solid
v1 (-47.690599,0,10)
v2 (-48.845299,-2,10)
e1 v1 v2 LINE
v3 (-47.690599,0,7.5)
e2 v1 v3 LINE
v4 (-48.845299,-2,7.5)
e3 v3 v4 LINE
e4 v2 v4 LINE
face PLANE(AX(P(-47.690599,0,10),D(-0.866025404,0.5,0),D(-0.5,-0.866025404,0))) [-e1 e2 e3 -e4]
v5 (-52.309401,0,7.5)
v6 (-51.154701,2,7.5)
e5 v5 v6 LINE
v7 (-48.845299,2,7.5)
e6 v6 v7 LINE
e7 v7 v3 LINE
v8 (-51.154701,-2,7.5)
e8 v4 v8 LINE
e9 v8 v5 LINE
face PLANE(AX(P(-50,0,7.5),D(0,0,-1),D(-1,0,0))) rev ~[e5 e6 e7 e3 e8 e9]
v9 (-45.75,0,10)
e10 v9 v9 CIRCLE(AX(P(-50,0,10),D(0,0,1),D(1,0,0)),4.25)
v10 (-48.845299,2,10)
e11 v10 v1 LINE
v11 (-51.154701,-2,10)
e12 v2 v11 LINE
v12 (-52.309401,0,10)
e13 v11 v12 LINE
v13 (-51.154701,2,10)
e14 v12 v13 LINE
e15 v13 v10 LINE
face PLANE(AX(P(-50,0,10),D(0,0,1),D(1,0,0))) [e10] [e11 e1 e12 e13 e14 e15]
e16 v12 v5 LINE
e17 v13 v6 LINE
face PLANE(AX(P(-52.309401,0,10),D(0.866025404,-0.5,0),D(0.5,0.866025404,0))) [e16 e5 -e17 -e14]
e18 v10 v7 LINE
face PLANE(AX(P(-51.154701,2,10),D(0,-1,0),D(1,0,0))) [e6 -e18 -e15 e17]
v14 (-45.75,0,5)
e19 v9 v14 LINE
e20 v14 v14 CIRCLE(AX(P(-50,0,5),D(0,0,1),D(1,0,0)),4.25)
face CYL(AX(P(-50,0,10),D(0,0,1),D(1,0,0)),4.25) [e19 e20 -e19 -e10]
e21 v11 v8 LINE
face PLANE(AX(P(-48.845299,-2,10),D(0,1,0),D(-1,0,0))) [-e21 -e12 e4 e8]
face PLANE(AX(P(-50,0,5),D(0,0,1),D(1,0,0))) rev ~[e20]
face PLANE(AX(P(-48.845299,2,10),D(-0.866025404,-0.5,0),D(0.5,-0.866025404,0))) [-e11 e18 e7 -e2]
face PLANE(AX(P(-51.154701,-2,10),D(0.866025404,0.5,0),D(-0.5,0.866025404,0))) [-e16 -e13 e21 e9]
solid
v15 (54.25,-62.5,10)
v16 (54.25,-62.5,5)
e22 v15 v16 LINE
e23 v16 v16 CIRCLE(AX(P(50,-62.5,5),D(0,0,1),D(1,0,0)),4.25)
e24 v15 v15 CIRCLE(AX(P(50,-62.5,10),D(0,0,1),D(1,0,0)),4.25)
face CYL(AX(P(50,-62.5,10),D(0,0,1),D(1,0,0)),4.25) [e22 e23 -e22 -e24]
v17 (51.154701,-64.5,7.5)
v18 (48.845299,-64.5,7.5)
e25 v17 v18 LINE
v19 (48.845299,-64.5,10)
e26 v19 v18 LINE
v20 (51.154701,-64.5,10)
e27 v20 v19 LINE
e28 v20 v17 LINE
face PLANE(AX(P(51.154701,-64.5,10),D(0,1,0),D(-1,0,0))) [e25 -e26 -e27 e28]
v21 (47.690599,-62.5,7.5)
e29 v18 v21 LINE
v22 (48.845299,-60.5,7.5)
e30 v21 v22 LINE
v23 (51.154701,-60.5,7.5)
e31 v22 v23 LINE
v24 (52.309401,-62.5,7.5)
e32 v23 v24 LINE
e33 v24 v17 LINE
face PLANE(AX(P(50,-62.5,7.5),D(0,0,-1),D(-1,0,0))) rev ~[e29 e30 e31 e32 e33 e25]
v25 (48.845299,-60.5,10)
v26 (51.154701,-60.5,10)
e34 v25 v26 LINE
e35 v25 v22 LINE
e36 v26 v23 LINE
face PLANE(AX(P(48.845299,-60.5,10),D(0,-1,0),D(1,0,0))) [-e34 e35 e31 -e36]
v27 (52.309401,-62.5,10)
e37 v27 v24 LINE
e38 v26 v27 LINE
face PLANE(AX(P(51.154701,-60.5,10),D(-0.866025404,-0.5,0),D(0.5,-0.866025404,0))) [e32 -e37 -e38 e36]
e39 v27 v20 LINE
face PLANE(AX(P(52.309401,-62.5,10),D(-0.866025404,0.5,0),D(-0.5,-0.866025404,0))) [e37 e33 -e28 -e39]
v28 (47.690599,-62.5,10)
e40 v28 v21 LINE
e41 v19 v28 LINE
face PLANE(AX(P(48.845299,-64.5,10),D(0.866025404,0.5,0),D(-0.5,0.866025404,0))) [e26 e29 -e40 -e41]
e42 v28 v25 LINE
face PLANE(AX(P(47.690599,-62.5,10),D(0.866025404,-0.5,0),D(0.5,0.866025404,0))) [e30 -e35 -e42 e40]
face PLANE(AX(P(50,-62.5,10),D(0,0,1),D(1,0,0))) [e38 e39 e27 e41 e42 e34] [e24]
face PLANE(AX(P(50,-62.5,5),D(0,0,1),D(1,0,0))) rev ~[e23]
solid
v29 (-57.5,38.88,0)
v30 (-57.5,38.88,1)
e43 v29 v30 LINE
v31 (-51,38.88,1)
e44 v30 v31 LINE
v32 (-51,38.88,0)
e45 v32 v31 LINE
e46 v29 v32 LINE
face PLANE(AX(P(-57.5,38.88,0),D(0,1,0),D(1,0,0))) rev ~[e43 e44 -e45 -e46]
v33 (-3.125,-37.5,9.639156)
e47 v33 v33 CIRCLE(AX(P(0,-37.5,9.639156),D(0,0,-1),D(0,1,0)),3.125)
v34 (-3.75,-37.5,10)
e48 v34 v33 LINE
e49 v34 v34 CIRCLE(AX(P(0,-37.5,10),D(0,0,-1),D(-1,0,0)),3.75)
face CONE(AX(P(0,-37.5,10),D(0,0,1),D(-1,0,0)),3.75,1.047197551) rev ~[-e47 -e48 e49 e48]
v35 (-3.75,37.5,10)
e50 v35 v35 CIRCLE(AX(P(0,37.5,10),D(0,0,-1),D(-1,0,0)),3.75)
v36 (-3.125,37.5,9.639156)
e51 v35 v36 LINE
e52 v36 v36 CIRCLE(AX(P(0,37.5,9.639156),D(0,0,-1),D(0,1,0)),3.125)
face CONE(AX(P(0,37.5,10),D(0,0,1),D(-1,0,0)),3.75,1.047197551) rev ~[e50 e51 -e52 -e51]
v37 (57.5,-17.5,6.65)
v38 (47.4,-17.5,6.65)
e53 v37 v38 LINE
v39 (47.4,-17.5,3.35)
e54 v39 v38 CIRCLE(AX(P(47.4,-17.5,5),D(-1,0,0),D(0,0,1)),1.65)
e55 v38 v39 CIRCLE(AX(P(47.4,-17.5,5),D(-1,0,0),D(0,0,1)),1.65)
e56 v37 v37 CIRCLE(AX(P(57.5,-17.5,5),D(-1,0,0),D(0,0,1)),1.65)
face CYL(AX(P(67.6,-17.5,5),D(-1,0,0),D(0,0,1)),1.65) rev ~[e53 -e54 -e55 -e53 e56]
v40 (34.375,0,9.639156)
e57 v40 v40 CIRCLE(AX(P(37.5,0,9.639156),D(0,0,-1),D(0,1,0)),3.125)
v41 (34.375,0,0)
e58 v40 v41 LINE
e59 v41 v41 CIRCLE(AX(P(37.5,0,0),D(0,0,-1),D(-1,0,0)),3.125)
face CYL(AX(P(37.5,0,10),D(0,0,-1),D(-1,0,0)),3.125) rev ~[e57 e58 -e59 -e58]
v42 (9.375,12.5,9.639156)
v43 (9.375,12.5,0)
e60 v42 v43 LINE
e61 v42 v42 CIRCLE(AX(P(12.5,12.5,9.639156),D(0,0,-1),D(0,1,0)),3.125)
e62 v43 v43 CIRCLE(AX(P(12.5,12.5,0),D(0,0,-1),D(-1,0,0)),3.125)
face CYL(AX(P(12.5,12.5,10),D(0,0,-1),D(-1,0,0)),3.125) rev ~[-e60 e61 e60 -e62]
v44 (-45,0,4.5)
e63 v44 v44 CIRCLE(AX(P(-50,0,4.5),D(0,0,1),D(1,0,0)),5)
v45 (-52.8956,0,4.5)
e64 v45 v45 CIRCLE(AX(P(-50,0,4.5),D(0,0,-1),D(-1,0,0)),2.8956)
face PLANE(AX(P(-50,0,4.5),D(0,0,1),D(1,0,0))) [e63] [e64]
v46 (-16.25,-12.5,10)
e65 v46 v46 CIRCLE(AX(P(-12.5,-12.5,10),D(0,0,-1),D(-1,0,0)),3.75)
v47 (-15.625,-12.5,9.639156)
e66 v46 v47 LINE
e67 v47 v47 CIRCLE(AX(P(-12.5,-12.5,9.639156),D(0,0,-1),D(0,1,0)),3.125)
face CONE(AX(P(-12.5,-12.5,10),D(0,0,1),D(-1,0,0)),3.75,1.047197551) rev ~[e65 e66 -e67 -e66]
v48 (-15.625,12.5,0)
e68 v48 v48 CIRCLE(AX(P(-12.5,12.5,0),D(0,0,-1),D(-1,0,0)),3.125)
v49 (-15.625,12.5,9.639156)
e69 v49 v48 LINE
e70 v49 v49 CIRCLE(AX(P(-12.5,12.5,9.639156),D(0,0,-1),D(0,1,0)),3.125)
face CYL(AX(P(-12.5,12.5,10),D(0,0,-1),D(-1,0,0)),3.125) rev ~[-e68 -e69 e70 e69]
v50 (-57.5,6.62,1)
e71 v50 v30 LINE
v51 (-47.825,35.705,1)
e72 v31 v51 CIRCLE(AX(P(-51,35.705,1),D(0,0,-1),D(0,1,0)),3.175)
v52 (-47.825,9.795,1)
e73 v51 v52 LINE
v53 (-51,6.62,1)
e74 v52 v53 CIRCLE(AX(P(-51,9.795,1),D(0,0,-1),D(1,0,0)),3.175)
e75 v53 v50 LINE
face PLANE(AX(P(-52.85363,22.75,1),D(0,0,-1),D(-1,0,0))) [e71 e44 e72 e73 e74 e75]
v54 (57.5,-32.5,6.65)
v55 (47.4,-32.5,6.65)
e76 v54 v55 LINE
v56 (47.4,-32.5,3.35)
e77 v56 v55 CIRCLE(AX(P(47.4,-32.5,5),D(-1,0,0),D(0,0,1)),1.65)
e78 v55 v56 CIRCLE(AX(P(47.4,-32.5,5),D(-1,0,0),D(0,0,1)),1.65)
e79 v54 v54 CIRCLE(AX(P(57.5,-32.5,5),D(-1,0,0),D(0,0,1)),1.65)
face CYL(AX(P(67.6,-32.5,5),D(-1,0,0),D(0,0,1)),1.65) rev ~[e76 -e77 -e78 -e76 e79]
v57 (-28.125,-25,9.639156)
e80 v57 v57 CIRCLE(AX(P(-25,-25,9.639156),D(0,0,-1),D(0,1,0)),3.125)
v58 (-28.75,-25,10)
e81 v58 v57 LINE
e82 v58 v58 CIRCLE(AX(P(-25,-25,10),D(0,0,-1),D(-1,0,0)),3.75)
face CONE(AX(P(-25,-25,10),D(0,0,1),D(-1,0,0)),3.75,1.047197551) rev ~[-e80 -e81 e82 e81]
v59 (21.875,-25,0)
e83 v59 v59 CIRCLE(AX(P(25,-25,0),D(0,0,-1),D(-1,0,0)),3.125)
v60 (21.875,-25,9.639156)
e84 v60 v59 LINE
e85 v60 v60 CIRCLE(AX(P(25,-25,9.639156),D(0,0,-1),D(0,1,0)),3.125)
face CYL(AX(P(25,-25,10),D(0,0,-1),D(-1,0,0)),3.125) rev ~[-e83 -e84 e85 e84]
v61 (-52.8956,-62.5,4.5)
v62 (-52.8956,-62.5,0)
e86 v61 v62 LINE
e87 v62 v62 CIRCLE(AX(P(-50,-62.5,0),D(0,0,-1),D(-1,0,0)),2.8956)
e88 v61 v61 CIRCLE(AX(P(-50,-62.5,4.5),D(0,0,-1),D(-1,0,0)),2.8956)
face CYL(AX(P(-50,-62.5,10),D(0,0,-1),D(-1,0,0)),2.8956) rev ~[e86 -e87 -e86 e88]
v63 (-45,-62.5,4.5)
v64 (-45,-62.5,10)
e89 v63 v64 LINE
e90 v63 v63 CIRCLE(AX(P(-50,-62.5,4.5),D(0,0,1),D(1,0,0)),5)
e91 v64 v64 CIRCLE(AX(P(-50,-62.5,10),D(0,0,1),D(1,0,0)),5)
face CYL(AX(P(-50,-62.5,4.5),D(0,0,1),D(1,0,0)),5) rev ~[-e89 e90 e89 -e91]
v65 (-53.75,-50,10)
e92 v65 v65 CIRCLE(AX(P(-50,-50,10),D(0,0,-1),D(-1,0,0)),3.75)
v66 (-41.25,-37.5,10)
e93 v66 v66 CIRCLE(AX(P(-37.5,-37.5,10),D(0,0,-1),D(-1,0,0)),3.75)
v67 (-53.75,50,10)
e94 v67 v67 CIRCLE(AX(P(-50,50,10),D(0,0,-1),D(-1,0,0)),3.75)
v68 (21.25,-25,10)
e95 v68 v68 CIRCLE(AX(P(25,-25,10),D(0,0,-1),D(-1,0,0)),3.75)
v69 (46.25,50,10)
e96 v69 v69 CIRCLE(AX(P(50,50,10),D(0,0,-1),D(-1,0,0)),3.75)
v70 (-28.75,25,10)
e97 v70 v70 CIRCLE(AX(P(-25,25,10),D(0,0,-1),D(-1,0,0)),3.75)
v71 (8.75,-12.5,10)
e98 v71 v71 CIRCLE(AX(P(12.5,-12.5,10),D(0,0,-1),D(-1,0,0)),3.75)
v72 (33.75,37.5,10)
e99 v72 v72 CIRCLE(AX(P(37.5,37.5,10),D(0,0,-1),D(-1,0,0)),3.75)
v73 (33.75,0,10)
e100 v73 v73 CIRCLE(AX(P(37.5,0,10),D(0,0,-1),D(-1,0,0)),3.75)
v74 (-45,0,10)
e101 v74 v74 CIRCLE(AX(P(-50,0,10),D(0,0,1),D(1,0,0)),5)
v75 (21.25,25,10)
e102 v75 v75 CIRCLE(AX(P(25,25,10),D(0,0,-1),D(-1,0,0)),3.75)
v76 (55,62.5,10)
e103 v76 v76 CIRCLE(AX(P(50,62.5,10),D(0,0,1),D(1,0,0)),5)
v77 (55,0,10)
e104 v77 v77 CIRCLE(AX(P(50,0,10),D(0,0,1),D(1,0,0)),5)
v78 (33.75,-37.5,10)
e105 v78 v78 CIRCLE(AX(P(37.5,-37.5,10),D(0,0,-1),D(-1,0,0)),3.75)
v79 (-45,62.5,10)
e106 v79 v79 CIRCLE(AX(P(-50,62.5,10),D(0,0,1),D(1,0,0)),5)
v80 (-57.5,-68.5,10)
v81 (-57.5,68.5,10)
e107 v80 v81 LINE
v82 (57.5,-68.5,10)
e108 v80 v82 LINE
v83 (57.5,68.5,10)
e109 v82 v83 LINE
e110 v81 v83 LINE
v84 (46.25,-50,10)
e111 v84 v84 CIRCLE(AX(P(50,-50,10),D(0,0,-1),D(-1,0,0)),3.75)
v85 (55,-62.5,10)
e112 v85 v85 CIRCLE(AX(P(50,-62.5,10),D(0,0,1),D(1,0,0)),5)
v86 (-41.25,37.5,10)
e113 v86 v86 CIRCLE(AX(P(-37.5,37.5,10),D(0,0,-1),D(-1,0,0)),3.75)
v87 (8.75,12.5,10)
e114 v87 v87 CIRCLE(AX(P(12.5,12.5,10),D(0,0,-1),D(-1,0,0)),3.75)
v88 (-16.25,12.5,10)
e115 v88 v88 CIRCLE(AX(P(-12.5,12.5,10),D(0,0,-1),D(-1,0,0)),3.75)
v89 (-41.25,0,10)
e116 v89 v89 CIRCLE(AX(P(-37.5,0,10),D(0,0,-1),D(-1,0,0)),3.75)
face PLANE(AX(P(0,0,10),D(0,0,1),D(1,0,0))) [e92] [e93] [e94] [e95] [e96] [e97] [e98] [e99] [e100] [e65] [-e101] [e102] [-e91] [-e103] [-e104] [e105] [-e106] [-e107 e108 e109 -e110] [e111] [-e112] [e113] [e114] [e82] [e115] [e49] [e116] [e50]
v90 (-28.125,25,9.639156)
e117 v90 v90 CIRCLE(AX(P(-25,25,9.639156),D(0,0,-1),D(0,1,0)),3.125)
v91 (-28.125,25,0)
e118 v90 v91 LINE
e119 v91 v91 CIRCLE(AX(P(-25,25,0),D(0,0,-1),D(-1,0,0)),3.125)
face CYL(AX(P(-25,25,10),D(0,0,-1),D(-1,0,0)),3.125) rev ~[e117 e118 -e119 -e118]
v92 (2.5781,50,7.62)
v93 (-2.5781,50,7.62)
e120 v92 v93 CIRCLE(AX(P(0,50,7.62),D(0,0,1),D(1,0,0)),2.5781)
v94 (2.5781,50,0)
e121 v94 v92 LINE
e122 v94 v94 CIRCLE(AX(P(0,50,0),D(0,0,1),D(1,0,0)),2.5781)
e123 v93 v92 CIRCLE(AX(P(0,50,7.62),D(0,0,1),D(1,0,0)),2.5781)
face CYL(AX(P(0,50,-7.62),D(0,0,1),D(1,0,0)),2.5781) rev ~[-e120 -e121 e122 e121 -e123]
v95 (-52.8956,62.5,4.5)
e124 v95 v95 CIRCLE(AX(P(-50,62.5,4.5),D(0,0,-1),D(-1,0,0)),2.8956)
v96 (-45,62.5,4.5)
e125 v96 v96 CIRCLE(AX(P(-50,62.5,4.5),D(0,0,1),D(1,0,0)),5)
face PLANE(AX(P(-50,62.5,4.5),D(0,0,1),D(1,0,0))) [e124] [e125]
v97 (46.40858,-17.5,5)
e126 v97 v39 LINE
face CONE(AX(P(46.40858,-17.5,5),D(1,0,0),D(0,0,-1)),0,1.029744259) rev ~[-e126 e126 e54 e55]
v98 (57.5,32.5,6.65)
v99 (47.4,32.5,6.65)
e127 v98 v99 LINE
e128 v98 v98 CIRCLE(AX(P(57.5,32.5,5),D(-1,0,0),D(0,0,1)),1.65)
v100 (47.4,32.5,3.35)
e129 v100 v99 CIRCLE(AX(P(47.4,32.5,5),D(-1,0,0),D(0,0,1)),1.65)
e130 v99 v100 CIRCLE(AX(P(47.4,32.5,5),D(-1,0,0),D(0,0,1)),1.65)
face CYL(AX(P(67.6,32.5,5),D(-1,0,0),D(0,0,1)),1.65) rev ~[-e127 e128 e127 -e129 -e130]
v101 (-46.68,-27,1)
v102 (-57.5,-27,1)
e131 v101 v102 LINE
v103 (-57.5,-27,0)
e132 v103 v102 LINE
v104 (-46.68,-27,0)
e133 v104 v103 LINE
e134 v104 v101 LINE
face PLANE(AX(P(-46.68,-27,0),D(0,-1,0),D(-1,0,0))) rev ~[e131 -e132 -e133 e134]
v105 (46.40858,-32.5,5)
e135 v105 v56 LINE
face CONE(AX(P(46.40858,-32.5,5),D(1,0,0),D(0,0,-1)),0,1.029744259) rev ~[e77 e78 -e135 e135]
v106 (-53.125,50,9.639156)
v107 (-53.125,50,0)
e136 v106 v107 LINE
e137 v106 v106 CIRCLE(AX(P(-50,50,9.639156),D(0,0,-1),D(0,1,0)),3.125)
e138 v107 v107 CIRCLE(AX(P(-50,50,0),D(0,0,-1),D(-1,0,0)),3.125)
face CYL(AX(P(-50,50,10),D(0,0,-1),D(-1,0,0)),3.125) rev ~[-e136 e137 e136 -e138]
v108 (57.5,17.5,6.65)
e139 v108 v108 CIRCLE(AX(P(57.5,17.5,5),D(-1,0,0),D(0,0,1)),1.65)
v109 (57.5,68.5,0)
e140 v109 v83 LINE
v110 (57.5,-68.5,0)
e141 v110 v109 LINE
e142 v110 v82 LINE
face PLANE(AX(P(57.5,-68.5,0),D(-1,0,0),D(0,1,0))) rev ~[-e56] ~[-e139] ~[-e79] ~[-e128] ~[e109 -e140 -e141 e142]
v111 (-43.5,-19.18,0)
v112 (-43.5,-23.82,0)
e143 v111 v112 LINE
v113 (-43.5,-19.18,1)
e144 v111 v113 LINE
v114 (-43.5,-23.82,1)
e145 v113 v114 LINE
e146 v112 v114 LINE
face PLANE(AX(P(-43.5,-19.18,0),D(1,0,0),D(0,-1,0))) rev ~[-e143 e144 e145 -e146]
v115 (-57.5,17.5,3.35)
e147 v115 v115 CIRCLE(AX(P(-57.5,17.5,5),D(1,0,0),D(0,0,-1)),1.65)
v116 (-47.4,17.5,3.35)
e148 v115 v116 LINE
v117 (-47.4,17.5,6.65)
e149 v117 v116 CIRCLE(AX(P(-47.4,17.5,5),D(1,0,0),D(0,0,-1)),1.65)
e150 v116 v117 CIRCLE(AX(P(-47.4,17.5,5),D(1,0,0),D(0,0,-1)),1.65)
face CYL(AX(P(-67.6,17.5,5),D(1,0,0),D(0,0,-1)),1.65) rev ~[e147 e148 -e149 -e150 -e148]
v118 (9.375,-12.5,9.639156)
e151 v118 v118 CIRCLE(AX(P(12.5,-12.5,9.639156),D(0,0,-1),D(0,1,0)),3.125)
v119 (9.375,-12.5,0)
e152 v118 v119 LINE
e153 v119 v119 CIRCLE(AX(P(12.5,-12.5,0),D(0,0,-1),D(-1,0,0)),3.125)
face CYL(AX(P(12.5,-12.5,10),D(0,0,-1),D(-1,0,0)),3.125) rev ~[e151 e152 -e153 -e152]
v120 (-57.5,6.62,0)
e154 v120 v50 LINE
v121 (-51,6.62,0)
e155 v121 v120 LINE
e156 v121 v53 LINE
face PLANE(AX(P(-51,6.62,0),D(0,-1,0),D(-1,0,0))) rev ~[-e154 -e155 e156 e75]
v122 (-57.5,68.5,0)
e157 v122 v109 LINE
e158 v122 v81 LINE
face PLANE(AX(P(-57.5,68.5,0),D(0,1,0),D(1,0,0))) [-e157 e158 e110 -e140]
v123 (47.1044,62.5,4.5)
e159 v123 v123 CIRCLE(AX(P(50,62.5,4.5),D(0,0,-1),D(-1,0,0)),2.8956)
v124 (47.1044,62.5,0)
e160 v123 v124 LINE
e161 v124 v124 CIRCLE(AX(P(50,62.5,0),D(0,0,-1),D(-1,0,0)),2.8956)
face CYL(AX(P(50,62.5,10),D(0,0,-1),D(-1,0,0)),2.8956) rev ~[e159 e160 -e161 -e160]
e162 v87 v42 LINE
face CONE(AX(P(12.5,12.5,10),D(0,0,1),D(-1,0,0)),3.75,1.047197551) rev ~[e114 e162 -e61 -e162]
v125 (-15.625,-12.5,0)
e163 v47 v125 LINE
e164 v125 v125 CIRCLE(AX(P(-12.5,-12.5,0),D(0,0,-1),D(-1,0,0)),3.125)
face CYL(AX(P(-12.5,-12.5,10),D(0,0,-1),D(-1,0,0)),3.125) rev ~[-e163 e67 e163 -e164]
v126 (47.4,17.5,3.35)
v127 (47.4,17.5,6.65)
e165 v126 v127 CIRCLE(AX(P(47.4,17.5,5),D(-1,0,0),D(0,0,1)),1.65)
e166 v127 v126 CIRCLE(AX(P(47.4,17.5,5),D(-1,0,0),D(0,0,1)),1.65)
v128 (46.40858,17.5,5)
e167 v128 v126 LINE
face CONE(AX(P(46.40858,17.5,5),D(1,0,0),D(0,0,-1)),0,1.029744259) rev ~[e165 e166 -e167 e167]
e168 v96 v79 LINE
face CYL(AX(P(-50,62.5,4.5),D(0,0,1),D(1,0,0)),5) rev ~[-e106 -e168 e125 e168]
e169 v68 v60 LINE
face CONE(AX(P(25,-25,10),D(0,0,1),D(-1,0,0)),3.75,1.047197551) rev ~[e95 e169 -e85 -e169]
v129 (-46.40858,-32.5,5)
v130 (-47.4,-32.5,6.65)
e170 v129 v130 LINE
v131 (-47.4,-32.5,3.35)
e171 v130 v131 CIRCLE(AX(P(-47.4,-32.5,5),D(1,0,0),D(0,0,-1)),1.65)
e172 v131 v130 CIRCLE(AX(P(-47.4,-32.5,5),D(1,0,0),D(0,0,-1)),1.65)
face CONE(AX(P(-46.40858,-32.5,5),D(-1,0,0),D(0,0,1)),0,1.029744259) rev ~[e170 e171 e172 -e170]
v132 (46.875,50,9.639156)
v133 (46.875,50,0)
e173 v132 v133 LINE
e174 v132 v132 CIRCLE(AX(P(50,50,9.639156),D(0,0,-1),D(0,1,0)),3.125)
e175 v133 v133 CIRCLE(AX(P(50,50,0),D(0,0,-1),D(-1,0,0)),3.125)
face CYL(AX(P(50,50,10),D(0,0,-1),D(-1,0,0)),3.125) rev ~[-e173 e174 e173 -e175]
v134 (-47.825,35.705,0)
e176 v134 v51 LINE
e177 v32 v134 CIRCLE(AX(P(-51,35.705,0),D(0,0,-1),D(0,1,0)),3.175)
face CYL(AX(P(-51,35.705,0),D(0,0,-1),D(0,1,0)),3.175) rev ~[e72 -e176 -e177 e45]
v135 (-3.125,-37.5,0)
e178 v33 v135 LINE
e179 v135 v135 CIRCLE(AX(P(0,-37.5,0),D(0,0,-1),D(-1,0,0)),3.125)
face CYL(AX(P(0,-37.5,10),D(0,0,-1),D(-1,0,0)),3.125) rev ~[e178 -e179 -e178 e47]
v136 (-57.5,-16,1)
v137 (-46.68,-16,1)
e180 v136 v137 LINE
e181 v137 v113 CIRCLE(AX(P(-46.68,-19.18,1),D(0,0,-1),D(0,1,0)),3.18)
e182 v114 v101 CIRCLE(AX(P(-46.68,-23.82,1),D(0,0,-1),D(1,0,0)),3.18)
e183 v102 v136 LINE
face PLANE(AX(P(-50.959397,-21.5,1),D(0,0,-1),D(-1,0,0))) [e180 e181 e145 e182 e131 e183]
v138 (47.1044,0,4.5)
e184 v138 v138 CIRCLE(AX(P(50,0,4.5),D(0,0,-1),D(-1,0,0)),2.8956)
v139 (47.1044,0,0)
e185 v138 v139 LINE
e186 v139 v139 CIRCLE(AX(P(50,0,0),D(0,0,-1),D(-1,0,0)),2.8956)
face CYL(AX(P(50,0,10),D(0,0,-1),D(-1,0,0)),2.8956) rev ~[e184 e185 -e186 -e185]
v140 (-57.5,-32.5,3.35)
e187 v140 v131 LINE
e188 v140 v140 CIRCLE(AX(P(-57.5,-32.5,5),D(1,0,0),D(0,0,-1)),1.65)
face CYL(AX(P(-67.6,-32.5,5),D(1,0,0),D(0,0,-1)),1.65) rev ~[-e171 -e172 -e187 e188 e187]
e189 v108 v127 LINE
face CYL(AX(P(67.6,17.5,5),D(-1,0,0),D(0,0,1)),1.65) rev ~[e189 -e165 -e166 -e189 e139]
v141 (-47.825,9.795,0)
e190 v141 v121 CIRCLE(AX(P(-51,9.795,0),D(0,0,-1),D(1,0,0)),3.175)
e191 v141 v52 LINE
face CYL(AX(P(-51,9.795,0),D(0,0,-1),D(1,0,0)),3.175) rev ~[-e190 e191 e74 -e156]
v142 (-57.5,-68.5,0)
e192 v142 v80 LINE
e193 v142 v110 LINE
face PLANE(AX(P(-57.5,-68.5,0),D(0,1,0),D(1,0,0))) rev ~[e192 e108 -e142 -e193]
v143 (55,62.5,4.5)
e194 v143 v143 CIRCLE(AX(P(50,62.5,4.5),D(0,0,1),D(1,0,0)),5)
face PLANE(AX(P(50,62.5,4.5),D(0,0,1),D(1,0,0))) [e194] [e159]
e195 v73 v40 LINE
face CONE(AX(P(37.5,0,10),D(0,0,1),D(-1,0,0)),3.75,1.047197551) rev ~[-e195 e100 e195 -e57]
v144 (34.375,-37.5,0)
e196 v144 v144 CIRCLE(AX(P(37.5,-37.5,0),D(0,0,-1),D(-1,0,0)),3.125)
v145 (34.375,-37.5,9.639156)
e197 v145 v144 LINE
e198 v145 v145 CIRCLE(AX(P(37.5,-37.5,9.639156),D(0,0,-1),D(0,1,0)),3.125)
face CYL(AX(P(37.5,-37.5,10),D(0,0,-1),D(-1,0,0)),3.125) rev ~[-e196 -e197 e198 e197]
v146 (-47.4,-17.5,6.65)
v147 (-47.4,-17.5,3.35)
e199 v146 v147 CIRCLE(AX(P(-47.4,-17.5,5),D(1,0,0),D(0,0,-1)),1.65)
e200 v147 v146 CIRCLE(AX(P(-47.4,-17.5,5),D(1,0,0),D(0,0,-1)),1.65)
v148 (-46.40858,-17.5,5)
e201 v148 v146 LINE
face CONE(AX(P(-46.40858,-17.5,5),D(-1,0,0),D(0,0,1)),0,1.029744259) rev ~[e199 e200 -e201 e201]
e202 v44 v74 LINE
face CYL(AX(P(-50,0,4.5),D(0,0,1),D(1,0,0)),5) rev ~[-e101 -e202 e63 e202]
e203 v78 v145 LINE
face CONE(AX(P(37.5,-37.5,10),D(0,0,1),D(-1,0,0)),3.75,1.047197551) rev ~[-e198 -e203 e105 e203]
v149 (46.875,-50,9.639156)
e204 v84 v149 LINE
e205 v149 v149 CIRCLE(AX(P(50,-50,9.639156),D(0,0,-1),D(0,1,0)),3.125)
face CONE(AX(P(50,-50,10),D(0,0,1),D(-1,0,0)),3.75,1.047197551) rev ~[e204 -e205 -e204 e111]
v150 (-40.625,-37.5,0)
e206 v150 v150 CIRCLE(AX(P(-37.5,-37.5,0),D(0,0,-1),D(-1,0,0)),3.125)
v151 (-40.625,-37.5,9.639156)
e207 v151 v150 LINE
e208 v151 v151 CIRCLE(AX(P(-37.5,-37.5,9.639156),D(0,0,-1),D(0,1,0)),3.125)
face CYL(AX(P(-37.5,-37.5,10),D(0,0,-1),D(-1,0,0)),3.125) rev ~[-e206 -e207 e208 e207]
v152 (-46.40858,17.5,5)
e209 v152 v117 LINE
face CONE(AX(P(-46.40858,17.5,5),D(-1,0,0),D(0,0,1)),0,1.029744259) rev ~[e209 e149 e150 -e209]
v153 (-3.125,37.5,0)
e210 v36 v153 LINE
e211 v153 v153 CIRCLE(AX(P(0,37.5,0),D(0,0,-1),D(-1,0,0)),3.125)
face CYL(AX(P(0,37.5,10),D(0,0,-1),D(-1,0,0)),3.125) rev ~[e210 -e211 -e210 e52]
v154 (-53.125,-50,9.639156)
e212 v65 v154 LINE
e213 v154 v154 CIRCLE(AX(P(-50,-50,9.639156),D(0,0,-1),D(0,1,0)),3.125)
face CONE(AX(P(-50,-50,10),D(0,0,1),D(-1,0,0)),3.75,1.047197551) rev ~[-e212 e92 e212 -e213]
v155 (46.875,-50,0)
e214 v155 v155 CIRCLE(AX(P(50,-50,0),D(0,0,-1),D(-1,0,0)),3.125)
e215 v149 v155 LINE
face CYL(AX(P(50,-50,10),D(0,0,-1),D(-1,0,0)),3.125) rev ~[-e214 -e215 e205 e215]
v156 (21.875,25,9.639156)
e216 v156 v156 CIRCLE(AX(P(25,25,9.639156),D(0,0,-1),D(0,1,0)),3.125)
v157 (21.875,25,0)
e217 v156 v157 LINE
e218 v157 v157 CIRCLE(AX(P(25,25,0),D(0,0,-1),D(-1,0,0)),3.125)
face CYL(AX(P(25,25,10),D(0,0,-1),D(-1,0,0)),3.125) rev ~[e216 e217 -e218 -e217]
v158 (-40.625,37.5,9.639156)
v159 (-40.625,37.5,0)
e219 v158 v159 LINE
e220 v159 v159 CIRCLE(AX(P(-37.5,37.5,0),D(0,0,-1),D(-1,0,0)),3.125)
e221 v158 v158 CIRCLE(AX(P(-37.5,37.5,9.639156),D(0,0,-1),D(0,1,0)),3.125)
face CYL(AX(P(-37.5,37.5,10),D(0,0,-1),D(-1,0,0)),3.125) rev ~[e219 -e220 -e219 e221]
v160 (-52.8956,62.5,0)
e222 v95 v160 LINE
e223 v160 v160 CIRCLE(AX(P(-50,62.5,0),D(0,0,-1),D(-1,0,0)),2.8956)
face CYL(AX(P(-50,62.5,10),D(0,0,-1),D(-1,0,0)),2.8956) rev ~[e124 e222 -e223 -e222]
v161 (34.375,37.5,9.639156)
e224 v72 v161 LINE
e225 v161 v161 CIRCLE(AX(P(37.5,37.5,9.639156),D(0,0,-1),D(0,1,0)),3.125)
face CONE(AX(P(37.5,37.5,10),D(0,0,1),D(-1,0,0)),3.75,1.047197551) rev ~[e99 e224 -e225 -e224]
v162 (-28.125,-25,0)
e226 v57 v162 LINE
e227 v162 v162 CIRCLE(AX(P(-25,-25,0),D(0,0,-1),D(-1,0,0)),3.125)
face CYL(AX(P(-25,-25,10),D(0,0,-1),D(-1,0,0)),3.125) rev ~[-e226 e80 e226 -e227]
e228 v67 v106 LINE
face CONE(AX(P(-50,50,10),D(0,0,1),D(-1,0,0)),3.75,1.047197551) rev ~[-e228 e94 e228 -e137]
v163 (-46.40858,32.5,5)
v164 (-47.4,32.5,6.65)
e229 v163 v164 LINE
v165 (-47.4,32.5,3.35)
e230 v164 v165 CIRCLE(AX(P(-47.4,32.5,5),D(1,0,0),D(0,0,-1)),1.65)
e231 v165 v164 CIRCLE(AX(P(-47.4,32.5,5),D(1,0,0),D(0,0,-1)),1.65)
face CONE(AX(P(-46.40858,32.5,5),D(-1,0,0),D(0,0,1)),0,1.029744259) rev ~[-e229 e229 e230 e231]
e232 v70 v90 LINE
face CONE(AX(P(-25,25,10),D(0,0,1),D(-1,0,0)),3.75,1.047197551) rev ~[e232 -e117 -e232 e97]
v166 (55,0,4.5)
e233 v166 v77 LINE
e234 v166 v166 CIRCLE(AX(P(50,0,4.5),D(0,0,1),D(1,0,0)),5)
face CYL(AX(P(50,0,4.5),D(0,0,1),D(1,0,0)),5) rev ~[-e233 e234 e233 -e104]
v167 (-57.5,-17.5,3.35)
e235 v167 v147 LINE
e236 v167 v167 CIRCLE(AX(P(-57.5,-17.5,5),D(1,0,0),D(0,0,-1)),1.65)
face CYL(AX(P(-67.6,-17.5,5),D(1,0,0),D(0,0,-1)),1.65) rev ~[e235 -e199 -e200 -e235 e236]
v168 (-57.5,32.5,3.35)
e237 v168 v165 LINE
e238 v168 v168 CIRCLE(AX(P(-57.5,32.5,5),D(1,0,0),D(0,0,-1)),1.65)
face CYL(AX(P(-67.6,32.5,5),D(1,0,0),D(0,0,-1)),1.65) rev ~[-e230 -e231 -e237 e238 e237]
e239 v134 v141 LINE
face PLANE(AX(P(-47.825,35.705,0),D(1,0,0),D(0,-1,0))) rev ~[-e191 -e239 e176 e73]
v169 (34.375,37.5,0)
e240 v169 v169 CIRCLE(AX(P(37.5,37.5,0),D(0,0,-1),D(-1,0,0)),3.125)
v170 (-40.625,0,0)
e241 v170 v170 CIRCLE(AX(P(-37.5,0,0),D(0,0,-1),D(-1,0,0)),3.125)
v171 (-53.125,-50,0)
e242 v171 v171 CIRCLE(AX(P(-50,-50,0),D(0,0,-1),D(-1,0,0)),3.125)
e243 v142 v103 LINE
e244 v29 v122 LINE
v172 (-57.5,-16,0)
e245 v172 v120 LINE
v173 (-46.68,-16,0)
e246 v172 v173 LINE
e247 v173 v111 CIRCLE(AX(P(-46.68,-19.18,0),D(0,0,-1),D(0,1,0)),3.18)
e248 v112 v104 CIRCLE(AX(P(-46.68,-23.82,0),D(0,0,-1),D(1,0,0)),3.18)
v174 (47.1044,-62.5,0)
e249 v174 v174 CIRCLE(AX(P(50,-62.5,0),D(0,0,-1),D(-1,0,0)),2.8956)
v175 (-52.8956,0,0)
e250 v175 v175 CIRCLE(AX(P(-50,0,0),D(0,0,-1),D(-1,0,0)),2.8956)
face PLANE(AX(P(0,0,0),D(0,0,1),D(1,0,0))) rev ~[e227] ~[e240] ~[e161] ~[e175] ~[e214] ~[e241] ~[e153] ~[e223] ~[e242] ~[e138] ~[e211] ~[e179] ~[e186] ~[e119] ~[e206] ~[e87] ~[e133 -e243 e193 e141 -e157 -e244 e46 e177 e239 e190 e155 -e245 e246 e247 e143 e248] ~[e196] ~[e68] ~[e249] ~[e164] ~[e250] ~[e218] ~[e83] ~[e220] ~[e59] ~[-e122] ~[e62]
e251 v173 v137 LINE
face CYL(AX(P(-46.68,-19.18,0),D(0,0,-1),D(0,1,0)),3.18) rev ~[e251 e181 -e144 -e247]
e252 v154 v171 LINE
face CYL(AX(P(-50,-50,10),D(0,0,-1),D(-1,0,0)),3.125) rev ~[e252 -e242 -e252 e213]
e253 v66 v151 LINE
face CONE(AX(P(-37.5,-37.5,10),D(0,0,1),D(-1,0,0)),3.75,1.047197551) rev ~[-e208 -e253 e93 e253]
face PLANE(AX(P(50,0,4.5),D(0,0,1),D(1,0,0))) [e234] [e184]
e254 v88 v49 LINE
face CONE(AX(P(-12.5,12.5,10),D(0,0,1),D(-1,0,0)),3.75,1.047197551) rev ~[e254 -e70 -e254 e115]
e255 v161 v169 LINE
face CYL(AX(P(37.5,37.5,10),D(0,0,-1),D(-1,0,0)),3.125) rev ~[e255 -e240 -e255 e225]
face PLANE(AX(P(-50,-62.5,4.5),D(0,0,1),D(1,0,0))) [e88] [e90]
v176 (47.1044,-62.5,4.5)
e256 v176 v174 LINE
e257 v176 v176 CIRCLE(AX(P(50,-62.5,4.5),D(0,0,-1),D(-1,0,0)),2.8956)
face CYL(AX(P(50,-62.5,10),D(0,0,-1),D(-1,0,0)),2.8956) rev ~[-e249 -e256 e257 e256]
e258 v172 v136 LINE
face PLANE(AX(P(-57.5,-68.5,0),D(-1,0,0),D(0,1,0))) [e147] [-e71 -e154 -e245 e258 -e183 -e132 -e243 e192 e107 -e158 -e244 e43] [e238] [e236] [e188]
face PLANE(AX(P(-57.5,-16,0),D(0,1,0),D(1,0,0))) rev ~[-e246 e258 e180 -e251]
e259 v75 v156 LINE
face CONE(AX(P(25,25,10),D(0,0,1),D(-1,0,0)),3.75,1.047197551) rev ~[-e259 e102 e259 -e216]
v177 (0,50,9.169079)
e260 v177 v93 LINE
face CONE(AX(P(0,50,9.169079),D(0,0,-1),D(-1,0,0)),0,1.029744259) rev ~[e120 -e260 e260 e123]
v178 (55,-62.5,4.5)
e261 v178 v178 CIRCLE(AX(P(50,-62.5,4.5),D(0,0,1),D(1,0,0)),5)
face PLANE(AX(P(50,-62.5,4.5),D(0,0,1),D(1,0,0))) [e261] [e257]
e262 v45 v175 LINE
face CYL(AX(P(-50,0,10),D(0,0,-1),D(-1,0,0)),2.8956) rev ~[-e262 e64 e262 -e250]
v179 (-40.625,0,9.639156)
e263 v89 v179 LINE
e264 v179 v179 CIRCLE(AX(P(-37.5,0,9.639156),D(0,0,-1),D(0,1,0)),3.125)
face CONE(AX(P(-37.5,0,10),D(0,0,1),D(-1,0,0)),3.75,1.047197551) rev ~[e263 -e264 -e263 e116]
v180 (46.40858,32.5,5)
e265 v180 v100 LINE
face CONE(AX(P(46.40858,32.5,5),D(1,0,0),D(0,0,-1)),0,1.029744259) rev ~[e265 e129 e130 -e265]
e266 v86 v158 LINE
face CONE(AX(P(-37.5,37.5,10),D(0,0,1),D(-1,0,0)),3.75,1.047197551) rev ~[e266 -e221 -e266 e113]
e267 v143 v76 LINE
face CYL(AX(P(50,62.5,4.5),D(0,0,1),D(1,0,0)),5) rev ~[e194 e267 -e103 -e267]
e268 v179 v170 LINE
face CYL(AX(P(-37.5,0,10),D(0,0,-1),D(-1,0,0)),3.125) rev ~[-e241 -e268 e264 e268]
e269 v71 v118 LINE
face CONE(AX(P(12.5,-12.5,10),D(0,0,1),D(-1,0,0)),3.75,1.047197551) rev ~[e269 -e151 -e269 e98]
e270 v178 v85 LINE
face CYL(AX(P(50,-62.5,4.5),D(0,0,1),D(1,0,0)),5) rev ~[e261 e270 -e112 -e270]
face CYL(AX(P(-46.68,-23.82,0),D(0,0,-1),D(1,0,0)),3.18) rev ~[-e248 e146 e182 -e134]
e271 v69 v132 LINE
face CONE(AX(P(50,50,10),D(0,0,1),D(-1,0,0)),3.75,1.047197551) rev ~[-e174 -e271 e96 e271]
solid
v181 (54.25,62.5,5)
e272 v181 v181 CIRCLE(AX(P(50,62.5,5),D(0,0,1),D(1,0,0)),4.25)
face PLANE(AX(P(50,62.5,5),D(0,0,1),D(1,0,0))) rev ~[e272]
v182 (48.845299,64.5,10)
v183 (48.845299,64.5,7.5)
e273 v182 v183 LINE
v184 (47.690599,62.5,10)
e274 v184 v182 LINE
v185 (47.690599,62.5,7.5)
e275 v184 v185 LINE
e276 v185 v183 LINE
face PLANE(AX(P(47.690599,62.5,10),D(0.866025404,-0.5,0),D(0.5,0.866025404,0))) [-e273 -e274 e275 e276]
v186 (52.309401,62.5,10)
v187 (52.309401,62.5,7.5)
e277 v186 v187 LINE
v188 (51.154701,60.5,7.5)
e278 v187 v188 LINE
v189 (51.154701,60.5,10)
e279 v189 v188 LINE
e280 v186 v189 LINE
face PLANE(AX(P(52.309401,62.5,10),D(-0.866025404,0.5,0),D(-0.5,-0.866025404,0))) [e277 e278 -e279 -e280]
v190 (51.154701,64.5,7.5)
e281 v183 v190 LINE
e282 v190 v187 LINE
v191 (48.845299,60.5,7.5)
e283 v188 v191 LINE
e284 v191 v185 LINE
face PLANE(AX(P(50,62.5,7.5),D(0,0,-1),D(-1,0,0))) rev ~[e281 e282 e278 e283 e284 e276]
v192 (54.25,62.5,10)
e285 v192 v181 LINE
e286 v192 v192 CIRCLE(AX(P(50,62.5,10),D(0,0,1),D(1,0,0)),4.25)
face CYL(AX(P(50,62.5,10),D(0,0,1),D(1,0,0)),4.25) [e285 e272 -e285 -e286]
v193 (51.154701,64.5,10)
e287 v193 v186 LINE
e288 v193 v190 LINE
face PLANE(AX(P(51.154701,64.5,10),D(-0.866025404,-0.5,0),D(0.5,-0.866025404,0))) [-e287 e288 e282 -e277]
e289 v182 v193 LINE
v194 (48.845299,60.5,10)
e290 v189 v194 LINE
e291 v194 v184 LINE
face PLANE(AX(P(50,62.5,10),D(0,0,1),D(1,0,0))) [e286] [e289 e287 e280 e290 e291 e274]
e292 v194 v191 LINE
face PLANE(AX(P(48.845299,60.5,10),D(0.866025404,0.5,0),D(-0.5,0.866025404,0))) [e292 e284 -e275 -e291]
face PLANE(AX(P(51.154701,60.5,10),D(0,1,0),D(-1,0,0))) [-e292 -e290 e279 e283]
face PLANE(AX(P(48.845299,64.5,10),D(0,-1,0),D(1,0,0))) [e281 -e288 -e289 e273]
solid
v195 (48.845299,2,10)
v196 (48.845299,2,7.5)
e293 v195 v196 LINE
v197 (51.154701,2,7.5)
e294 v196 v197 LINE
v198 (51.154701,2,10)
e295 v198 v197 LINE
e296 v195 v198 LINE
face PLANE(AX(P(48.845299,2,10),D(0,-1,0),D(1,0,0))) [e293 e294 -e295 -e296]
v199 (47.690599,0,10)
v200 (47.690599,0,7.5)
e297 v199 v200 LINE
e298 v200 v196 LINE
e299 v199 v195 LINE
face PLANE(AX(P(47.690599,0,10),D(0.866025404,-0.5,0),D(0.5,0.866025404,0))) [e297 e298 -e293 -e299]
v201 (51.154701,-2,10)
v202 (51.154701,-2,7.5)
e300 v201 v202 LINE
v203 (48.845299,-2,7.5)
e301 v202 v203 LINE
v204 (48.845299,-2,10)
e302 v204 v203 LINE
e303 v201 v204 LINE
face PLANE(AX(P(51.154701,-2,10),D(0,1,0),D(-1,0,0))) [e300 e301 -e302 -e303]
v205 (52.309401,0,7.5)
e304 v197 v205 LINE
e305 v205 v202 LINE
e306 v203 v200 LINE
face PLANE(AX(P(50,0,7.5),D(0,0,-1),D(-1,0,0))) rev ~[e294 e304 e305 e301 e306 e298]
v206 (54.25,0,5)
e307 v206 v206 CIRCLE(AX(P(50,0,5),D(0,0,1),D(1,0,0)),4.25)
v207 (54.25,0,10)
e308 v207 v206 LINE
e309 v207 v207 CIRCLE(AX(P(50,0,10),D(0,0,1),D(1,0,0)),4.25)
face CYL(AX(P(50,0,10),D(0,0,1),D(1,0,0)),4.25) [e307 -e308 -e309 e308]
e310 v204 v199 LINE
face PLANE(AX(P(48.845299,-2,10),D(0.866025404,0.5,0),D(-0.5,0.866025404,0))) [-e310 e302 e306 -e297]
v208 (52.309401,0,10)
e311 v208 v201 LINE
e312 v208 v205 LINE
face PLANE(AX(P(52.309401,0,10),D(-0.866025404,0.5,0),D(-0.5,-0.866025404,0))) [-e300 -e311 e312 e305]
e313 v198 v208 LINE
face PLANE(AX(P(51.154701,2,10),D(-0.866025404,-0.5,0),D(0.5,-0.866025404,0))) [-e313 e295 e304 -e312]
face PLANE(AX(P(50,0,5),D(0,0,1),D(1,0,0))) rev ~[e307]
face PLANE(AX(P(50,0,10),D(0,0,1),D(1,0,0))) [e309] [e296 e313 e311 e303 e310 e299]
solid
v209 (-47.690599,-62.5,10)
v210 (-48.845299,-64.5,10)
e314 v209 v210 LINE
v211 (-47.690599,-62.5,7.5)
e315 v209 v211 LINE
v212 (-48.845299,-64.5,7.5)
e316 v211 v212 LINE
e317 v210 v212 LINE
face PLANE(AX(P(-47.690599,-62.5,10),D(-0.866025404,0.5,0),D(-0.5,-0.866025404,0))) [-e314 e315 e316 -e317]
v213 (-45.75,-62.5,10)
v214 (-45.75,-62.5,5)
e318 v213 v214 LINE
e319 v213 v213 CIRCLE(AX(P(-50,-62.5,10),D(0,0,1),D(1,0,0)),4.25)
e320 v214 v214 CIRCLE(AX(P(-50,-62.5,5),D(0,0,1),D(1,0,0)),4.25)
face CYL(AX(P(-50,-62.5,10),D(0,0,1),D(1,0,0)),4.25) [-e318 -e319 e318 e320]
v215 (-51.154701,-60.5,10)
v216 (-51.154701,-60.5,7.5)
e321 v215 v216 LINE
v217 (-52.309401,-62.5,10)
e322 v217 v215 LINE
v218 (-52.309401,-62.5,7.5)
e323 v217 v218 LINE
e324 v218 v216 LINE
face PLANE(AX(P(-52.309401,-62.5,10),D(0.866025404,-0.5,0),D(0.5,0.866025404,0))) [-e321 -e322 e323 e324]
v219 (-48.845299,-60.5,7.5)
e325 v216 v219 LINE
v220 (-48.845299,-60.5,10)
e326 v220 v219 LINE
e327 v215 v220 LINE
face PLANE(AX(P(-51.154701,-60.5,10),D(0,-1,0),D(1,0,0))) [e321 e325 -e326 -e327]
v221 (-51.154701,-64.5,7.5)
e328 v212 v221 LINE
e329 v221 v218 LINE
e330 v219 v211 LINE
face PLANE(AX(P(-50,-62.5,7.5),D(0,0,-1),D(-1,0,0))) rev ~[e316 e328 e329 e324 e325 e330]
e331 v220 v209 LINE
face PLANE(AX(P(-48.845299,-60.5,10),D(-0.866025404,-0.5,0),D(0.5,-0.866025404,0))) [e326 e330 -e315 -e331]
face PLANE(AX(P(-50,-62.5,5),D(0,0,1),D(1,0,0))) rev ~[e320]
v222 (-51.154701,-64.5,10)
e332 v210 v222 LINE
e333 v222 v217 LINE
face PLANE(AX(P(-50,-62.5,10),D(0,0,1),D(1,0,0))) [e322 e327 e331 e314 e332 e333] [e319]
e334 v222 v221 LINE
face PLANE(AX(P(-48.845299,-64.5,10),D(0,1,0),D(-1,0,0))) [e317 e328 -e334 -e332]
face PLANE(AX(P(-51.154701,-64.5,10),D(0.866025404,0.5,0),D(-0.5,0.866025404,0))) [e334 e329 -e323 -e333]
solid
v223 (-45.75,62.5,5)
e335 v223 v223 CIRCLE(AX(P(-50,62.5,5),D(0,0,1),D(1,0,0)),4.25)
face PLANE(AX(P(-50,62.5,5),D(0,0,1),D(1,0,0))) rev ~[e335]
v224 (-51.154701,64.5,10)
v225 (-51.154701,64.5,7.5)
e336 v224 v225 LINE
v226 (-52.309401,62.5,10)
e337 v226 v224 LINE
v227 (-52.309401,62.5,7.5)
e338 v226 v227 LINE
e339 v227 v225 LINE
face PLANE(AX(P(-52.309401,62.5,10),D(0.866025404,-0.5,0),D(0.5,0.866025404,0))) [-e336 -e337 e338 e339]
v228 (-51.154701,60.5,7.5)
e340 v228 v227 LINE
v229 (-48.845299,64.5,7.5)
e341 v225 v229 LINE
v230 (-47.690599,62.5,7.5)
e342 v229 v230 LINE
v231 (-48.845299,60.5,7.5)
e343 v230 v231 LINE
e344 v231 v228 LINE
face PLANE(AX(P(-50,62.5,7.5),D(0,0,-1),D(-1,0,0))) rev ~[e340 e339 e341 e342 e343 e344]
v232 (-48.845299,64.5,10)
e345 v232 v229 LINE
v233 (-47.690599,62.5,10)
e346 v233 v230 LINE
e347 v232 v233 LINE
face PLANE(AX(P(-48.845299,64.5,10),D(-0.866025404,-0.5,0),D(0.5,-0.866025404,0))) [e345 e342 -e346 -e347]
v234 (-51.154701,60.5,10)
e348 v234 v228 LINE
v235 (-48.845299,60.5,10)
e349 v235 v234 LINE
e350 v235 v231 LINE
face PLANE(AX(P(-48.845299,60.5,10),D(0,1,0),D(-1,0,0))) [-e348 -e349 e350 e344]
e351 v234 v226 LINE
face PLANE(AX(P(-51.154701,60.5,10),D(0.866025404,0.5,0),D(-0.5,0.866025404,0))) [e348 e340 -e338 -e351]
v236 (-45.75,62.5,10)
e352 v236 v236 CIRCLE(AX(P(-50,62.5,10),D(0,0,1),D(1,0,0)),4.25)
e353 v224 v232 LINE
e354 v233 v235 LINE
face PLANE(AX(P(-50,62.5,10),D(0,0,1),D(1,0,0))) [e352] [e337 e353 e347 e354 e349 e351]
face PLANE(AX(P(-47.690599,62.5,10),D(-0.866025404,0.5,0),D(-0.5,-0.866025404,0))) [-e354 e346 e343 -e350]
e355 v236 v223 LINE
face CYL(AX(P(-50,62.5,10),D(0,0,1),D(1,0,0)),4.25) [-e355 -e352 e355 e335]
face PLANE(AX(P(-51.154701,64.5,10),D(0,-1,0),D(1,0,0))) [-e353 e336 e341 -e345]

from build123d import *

# Parameters (mm, degrees)
SKETCH1_W                                    = 115
SKETCH1_H                                    = 137
EXTRUDE1_DEPTH                               = 10
CBORE_FOR_M5_SHCS1_D                         = 5.7912
CBORE_FOR_M5_SHCS1_CBORE_D                   = 10
CBORE_FOR_M5_SHCS1_CBORE_DEPTH               = 5.5
TAPPED_HOLE_FOR_M6X1_0_HELICOIL1_D           = 6.25
TAPPED_HOLE_FOR_M6X1_0_HELICOIL1_CSINK_D     = 7.5
TAPPED_HOLE_FOR_M6X1_0_HELICOIL1_CSINK_ANGLE = 120
TAPPED_HOLE_FOR_M6X1_0_HELICOIL2_D           = 6.25
TAPPED_HOLE_FOR_M6X1_0_HELICOIL2_CSINK_D     = 7.5
TAPPED_HOLE_FOR_M6X1_0_HELICOIL2_CSINK_ANGLE = 120
M4X0_7_TAPPED_HOLE1_D                        = 3.3
M4X0_7_TAPPED_HOLE1_DEPTH                    = 10.1
M4X0_7_TAPPED_HOLE1_TIP                      = 0.991420021
M4X0_7_TAPPED_HOLE2_D                        = 3.3
M4X0_7_TAPPED_HOLE2_DEPTH                    = 10.1
M4X0_7_TAPPED_HOLE2_TIP                      = 0.991420021
F_1_4_20_TAPPED_HOLE1_D                      = 5.1562
F_1_4_20_TAPPED_HOLE1_DEPTH                  = 7.62
F_1_4_20_TAPPED_HOLE1_TIP                    = 1.549078762
CUT_EXTRUDE1_DEPTH                           = 1
SKETCH48_R                                   = 4.25
BOSS_EXTRUDE1_DEPTH                          = 5
BOSS_EXTRUDE1_2_DEPTH                        = 5
BOSS_EXTRUDE1_3_DEPTH                        = 5
BOSS_EXTRUDE1_4_DEPTH                        = 5
BOSS_EXTRUDE1_5_DEPTH                        = 5
BOSS_EXTRUDE1_6_DEPTH                        = 5
CUT_EXTRUDE2_DEPTH                           = 2.5


with BuildPart() as part:
    # Sketch1 → Extrude1 (new body)
    with BuildSketch(Plane.XY):
        Rectangle(SKETCH1_W, SKETCH1_H)
    extrude(amount=EXTRUDE1_DEPTH)

    # CBORE for M5 SHCS1 (through all)
    with Locations(Plane.XY.offset(10)):
        with Locations((50, 62.5), (50, 0), (-50, 0), (-50, 62.5), (-50, -62.5), (50, -62.5)):
            CounterBoreHole(CBORE_FOR_M5_SHCS1_D / 2, CBORE_FOR_M5_SHCS1_CBORE_D / 2, CBORE_FOR_M5_SHCS1_CBORE_DEPTH)

    # Tapped Hole for M6x1.0 Helicoil1 (through all)
    with Locations(Plane.XY.offset(10)):
        with Locations((12.5, 12.5), (-12.5, 12.5), (12.5, -12.5), (-12.5, -12.5), (25, 25), (25, -25), (-25, -25), (-25, 25), (37.5, 37.5), (37.5, -37.5), (-37.5, 37.5), (-37.5, -37.5), (37.5, 0), (-37.5, 0), (0, 37.5), (0, -37.5)):
            CounterSinkHole(TAPPED_HOLE_FOR_M6X1_0_HELICOIL1_D / 2, TAPPED_HOLE_FOR_M6X1_0_HELICOIL1_CSINK_D / 2, counter_sink_angle=TAPPED_HOLE_FOR_M6X1_0_HELICOIL1_CSINK_ANGLE)

    # Tapped Hole for M6x1.0 Helicoil2 (through all)
    with Locations(Plane.XY.offset(10)):
        with Locations((-50, 50), (50, 50), (50, -50), (-50, -50)):
            CounterSinkHole(TAPPED_HOLE_FOR_M6X1_0_HELICOIL2_D / 2, TAPPED_HOLE_FOR_M6X1_0_HELICOIL2_CSINK_D / 2, counter_sink_angle=TAPPED_HOLE_FOR_M6X1_0_HELICOIL2_CSINK_ANGLE)

    # M4x0.7 Tapped Hole1
    with Locations(Plane.ZY.offset(57.5)):
        with Locations((5, 17.5), (5, 32.5), (5, -32.5), (5, -17.5)):
            Hole(M4X0_7_TAPPED_HOLE1_D / 2, depth=M4X0_7_TAPPED_HOLE1_DEPTH)
            with Locations((0, 0, -(M4X0_7_TAPPED_HOLE1_DEPTH + M4X0_7_TAPPED_HOLE1_TIP / 2))):  # 118° drill point
                Cone(0, M4X0_7_TAPPED_HOLE1_D / 2, M4X0_7_TAPPED_HOLE1_TIP, mode=Mode.SUBTRACT)

    # M4x0.7 Tapped Hole2
    with Locations(Plane(origin=(57.5, 0, 0), x_dir=(0, 0, -1), z_dir=(1, 0, 0))):
        with Locations((-5, 32.5), (-5, 17.5), (-5, -32.5), (-5, -17.5)):
            Hole(M4X0_7_TAPPED_HOLE2_D / 2, depth=M4X0_7_TAPPED_HOLE2_DEPTH)
            with Locations((0, 0, -(M4X0_7_TAPPED_HOLE2_DEPTH + M4X0_7_TAPPED_HOLE2_TIP / 2))):  # 118° drill point
                Cone(0, M4X0_7_TAPPED_HOLE2_D / 2, M4X0_7_TAPPED_HOLE2_TIP, mode=Mode.SUBTRACT)

    # 1/4-20 Tapped Hole1
    with Locations(Plane(origin=(0, 0, 0), x_dir=(-1, 0, 0), z_dir=(0, 0, -1))):
        with Locations((0, 50)):
            Hole(F_1_4_20_TAPPED_HOLE1_D / 2, depth=F_1_4_20_TAPPED_HOLE1_DEPTH)
            with Locations((0, 0, -(F_1_4_20_TAPPED_HOLE1_DEPTH + F_1_4_20_TAPPED_HOLE1_TIP / 2))):  # 118° drill point
                Cone(0, F_1_4_20_TAPPED_HOLE1_D / 2, F_1_4_20_TAPPED_HOLE1_TIP, mode=Mode.SUBTRACT)

    # Sketch47 → Cut-Extrude1 (cut)
    with BuildSketch(Plane(origin=(0, 0, 0), x_dir=(-1, 0, 0), z_dir=(0, 0, -1))):
        with BuildLine():
            Line((57.5, 38.88), (51, 38.88))
            ThreePointArc((51, 38.88), (48.75493597, 37.95006403), (47.825, 35.705))
            Line((47.825, 35.705), (47.825, 9.795))
            ThreePointArc((47.825, 9.795), (48.75493597, 7.54993597), (51, 6.62))
            Line((51, 6.62), (57.5, 6.62))
            Line((57.5, 6.62), (57.5, 38.88))
        make_face()
        with BuildLine():
            Line((57.5, -16), (46.68, -16))
            ThreePointArc((46.68, -16), (44.431400436, -16.931400436), (43.5, -19.18))
            Line((43.5, -19.18), (43.5, -23.82))
            ThreePointArc((43.5, -23.82), (44.431400436, -26.068599564), (46.68, -27))
            Line((46.68, -27), (57.5, -27))
            Line((57.5, -27), (57.5, -16))
        make_face()
    extrude(amount=-CUT_EXTRUDE1_DEPTH, mode=Mode.SUBTRACT)


with BuildPart() as body_2:
    # Sketch48 → Boss-Extrude1 (new body)
    with BuildSketch(Plane.XY.offset(10)):
        with Locations((50, -62.5)):
            Circle(SKETCH48_R)
    extrude(amount=-BOSS_EXTRUDE1_DEPTH)


with BuildPart() as body_3:
    # Sketch48 → Boss-Extrude1 2 (new body)
    with BuildSketch(Plane.XY.offset(10)):
        with Locations((-50, -62.5)):
            Circle(SKETCH48_R)
    extrude(amount=-BOSS_EXTRUDE1_2_DEPTH)


with BuildPart() as body_4:
    # Sketch48 → Boss-Extrude1 3 (new body)
    with BuildSketch(Plane.XY.offset(10)):
        with Locations((-50, 0)):
            Circle(SKETCH48_R)
    extrude(amount=-BOSS_EXTRUDE1_3_DEPTH)


with BuildPart() as body_5:
    # Sketch48 → Boss-Extrude1 4 (new body)
    with BuildSketch(Plane.XY.offset(10)):
        with Locations((50, 0)):
            Circle(SKETCH48_R)
    extrude(amount=-BOSS_EXTRUDE1_4_DEPTH)


with BuildPart() as body_6:
    # Sketch48 → Boss-Extrude1 5 (new body)
    with BuildSketch(Plane.XY.offset(10)):
        with Locations((50, 62.5)):
            Circle(SKETCH48_R)
    extrude(amount=-BOSS_EXTRUDE1_5_DEPTH)


with BuildPart() as body_7:
    # Sketch48 → Boss-Extrude1 6 (new body)
    with BuildSketch(Plane.XY.offset(10)):
        with Locations((-50, 62.5)):
            Circle(SKETCH48_R)
    extrude(amount=-BOSS_EXTRUDE1_6_DEPTH)


with BuildPart() as cut_extrude2_tool:
    # Sketch49 → Cut-Extrude2 (new body)
    with BuildSketch(Plane.XY.offset(10)):
        Polygon((51.154700538, -64.5), (48.845299462, -64.5), (47.690598923, -62.5), (48.845299462, -60.5), (51.154700538, -60.5), (52.309401077, -62.5), align=None)
        Polygon((-48.845299462, -64.5), (-51.154700538, -64.5), (-52.309401077, -62.5), (-51.154700538, -60.5), (-48.845299462, -60.5), (-47.690598923, -62.5), align=None)
        Polygon((-48.845299462, -2), (-51.154700538, -2), (-52.309401077, 0), (-51.154700538, 2), (-48.845299462, 2), (-47.690598923, 0), align=None)
        Polygon((-48.845299462, 60.5), (-51.154700538, 60.5), (-52.309401077, 62.5), (-51.154700538, 64.5), (-48.845299462, 64.5), (-47.690598923, 62.5), align=None)
        Polygon((51.154700538, -2), (48.845299462, -2), (47.690598923, 0), (48.845299462, 2), (51.154700538, 2), (52.309401077, 0), align=None)
        Polygon((51.154700538, 60.5), (48.845299462, 60.5), (47.690598923, 62.5), (48.845299462, 64.5), (51.154700538, 64.5), (52.309401077, 62.5), align=None)
    extrude(amount=-CUT_EXTRUDE2_DEPTH)


with BuildPart() as body_2_1:
    add(body_2.part)

    # Cut-Extrude2: cut by cut_extrude2_tool
    add(cut_extrude2_tool.part, mode=Mode.SUBTRACT)


with BuildPart() as body_3_1:
    add(body_3.part)

    # Cut-Extrude2: cut by cut_extrude2_tool
    add(cut_extrude2_tool.part, mode=Mode.SUBTRACT)


with BuildPart() as body_4_1:
    add(body_4.part)

    # Cut-Extrude2: cut by cut_extrude2_tool
    add(cut_extrude2_tool.part, mode=Mode.SUBTRACT)


with BuildPart() as body_5_1:
    add(body_5.part)

    # Cut-Extrude2: cut by cut_extrude2_tool
    add(cut_extrude2_tool.part, mode=Mode.SUBTRACT)


with BuildPart() as body_6_1:
    add(body_6.part)

    # Cut-Extrude2: cut by cut_extrude2_tool
    add(cut_extrude2_tool.part, mode=Mode.SUBTRACT)


with BuildPart() as body_7_1:
    add(body_7.part)

    # Cut-Extrude2: cut by cut_extrude2_tool
    add(cut_extrude2_tool.part, mode=Mode.SUBTRACT)


solid = Compound([part.part, body_2_1.part, body_3_1.part, body_4_1.part, body_5_1.part, body_6_1.part, body_7_1.part])
